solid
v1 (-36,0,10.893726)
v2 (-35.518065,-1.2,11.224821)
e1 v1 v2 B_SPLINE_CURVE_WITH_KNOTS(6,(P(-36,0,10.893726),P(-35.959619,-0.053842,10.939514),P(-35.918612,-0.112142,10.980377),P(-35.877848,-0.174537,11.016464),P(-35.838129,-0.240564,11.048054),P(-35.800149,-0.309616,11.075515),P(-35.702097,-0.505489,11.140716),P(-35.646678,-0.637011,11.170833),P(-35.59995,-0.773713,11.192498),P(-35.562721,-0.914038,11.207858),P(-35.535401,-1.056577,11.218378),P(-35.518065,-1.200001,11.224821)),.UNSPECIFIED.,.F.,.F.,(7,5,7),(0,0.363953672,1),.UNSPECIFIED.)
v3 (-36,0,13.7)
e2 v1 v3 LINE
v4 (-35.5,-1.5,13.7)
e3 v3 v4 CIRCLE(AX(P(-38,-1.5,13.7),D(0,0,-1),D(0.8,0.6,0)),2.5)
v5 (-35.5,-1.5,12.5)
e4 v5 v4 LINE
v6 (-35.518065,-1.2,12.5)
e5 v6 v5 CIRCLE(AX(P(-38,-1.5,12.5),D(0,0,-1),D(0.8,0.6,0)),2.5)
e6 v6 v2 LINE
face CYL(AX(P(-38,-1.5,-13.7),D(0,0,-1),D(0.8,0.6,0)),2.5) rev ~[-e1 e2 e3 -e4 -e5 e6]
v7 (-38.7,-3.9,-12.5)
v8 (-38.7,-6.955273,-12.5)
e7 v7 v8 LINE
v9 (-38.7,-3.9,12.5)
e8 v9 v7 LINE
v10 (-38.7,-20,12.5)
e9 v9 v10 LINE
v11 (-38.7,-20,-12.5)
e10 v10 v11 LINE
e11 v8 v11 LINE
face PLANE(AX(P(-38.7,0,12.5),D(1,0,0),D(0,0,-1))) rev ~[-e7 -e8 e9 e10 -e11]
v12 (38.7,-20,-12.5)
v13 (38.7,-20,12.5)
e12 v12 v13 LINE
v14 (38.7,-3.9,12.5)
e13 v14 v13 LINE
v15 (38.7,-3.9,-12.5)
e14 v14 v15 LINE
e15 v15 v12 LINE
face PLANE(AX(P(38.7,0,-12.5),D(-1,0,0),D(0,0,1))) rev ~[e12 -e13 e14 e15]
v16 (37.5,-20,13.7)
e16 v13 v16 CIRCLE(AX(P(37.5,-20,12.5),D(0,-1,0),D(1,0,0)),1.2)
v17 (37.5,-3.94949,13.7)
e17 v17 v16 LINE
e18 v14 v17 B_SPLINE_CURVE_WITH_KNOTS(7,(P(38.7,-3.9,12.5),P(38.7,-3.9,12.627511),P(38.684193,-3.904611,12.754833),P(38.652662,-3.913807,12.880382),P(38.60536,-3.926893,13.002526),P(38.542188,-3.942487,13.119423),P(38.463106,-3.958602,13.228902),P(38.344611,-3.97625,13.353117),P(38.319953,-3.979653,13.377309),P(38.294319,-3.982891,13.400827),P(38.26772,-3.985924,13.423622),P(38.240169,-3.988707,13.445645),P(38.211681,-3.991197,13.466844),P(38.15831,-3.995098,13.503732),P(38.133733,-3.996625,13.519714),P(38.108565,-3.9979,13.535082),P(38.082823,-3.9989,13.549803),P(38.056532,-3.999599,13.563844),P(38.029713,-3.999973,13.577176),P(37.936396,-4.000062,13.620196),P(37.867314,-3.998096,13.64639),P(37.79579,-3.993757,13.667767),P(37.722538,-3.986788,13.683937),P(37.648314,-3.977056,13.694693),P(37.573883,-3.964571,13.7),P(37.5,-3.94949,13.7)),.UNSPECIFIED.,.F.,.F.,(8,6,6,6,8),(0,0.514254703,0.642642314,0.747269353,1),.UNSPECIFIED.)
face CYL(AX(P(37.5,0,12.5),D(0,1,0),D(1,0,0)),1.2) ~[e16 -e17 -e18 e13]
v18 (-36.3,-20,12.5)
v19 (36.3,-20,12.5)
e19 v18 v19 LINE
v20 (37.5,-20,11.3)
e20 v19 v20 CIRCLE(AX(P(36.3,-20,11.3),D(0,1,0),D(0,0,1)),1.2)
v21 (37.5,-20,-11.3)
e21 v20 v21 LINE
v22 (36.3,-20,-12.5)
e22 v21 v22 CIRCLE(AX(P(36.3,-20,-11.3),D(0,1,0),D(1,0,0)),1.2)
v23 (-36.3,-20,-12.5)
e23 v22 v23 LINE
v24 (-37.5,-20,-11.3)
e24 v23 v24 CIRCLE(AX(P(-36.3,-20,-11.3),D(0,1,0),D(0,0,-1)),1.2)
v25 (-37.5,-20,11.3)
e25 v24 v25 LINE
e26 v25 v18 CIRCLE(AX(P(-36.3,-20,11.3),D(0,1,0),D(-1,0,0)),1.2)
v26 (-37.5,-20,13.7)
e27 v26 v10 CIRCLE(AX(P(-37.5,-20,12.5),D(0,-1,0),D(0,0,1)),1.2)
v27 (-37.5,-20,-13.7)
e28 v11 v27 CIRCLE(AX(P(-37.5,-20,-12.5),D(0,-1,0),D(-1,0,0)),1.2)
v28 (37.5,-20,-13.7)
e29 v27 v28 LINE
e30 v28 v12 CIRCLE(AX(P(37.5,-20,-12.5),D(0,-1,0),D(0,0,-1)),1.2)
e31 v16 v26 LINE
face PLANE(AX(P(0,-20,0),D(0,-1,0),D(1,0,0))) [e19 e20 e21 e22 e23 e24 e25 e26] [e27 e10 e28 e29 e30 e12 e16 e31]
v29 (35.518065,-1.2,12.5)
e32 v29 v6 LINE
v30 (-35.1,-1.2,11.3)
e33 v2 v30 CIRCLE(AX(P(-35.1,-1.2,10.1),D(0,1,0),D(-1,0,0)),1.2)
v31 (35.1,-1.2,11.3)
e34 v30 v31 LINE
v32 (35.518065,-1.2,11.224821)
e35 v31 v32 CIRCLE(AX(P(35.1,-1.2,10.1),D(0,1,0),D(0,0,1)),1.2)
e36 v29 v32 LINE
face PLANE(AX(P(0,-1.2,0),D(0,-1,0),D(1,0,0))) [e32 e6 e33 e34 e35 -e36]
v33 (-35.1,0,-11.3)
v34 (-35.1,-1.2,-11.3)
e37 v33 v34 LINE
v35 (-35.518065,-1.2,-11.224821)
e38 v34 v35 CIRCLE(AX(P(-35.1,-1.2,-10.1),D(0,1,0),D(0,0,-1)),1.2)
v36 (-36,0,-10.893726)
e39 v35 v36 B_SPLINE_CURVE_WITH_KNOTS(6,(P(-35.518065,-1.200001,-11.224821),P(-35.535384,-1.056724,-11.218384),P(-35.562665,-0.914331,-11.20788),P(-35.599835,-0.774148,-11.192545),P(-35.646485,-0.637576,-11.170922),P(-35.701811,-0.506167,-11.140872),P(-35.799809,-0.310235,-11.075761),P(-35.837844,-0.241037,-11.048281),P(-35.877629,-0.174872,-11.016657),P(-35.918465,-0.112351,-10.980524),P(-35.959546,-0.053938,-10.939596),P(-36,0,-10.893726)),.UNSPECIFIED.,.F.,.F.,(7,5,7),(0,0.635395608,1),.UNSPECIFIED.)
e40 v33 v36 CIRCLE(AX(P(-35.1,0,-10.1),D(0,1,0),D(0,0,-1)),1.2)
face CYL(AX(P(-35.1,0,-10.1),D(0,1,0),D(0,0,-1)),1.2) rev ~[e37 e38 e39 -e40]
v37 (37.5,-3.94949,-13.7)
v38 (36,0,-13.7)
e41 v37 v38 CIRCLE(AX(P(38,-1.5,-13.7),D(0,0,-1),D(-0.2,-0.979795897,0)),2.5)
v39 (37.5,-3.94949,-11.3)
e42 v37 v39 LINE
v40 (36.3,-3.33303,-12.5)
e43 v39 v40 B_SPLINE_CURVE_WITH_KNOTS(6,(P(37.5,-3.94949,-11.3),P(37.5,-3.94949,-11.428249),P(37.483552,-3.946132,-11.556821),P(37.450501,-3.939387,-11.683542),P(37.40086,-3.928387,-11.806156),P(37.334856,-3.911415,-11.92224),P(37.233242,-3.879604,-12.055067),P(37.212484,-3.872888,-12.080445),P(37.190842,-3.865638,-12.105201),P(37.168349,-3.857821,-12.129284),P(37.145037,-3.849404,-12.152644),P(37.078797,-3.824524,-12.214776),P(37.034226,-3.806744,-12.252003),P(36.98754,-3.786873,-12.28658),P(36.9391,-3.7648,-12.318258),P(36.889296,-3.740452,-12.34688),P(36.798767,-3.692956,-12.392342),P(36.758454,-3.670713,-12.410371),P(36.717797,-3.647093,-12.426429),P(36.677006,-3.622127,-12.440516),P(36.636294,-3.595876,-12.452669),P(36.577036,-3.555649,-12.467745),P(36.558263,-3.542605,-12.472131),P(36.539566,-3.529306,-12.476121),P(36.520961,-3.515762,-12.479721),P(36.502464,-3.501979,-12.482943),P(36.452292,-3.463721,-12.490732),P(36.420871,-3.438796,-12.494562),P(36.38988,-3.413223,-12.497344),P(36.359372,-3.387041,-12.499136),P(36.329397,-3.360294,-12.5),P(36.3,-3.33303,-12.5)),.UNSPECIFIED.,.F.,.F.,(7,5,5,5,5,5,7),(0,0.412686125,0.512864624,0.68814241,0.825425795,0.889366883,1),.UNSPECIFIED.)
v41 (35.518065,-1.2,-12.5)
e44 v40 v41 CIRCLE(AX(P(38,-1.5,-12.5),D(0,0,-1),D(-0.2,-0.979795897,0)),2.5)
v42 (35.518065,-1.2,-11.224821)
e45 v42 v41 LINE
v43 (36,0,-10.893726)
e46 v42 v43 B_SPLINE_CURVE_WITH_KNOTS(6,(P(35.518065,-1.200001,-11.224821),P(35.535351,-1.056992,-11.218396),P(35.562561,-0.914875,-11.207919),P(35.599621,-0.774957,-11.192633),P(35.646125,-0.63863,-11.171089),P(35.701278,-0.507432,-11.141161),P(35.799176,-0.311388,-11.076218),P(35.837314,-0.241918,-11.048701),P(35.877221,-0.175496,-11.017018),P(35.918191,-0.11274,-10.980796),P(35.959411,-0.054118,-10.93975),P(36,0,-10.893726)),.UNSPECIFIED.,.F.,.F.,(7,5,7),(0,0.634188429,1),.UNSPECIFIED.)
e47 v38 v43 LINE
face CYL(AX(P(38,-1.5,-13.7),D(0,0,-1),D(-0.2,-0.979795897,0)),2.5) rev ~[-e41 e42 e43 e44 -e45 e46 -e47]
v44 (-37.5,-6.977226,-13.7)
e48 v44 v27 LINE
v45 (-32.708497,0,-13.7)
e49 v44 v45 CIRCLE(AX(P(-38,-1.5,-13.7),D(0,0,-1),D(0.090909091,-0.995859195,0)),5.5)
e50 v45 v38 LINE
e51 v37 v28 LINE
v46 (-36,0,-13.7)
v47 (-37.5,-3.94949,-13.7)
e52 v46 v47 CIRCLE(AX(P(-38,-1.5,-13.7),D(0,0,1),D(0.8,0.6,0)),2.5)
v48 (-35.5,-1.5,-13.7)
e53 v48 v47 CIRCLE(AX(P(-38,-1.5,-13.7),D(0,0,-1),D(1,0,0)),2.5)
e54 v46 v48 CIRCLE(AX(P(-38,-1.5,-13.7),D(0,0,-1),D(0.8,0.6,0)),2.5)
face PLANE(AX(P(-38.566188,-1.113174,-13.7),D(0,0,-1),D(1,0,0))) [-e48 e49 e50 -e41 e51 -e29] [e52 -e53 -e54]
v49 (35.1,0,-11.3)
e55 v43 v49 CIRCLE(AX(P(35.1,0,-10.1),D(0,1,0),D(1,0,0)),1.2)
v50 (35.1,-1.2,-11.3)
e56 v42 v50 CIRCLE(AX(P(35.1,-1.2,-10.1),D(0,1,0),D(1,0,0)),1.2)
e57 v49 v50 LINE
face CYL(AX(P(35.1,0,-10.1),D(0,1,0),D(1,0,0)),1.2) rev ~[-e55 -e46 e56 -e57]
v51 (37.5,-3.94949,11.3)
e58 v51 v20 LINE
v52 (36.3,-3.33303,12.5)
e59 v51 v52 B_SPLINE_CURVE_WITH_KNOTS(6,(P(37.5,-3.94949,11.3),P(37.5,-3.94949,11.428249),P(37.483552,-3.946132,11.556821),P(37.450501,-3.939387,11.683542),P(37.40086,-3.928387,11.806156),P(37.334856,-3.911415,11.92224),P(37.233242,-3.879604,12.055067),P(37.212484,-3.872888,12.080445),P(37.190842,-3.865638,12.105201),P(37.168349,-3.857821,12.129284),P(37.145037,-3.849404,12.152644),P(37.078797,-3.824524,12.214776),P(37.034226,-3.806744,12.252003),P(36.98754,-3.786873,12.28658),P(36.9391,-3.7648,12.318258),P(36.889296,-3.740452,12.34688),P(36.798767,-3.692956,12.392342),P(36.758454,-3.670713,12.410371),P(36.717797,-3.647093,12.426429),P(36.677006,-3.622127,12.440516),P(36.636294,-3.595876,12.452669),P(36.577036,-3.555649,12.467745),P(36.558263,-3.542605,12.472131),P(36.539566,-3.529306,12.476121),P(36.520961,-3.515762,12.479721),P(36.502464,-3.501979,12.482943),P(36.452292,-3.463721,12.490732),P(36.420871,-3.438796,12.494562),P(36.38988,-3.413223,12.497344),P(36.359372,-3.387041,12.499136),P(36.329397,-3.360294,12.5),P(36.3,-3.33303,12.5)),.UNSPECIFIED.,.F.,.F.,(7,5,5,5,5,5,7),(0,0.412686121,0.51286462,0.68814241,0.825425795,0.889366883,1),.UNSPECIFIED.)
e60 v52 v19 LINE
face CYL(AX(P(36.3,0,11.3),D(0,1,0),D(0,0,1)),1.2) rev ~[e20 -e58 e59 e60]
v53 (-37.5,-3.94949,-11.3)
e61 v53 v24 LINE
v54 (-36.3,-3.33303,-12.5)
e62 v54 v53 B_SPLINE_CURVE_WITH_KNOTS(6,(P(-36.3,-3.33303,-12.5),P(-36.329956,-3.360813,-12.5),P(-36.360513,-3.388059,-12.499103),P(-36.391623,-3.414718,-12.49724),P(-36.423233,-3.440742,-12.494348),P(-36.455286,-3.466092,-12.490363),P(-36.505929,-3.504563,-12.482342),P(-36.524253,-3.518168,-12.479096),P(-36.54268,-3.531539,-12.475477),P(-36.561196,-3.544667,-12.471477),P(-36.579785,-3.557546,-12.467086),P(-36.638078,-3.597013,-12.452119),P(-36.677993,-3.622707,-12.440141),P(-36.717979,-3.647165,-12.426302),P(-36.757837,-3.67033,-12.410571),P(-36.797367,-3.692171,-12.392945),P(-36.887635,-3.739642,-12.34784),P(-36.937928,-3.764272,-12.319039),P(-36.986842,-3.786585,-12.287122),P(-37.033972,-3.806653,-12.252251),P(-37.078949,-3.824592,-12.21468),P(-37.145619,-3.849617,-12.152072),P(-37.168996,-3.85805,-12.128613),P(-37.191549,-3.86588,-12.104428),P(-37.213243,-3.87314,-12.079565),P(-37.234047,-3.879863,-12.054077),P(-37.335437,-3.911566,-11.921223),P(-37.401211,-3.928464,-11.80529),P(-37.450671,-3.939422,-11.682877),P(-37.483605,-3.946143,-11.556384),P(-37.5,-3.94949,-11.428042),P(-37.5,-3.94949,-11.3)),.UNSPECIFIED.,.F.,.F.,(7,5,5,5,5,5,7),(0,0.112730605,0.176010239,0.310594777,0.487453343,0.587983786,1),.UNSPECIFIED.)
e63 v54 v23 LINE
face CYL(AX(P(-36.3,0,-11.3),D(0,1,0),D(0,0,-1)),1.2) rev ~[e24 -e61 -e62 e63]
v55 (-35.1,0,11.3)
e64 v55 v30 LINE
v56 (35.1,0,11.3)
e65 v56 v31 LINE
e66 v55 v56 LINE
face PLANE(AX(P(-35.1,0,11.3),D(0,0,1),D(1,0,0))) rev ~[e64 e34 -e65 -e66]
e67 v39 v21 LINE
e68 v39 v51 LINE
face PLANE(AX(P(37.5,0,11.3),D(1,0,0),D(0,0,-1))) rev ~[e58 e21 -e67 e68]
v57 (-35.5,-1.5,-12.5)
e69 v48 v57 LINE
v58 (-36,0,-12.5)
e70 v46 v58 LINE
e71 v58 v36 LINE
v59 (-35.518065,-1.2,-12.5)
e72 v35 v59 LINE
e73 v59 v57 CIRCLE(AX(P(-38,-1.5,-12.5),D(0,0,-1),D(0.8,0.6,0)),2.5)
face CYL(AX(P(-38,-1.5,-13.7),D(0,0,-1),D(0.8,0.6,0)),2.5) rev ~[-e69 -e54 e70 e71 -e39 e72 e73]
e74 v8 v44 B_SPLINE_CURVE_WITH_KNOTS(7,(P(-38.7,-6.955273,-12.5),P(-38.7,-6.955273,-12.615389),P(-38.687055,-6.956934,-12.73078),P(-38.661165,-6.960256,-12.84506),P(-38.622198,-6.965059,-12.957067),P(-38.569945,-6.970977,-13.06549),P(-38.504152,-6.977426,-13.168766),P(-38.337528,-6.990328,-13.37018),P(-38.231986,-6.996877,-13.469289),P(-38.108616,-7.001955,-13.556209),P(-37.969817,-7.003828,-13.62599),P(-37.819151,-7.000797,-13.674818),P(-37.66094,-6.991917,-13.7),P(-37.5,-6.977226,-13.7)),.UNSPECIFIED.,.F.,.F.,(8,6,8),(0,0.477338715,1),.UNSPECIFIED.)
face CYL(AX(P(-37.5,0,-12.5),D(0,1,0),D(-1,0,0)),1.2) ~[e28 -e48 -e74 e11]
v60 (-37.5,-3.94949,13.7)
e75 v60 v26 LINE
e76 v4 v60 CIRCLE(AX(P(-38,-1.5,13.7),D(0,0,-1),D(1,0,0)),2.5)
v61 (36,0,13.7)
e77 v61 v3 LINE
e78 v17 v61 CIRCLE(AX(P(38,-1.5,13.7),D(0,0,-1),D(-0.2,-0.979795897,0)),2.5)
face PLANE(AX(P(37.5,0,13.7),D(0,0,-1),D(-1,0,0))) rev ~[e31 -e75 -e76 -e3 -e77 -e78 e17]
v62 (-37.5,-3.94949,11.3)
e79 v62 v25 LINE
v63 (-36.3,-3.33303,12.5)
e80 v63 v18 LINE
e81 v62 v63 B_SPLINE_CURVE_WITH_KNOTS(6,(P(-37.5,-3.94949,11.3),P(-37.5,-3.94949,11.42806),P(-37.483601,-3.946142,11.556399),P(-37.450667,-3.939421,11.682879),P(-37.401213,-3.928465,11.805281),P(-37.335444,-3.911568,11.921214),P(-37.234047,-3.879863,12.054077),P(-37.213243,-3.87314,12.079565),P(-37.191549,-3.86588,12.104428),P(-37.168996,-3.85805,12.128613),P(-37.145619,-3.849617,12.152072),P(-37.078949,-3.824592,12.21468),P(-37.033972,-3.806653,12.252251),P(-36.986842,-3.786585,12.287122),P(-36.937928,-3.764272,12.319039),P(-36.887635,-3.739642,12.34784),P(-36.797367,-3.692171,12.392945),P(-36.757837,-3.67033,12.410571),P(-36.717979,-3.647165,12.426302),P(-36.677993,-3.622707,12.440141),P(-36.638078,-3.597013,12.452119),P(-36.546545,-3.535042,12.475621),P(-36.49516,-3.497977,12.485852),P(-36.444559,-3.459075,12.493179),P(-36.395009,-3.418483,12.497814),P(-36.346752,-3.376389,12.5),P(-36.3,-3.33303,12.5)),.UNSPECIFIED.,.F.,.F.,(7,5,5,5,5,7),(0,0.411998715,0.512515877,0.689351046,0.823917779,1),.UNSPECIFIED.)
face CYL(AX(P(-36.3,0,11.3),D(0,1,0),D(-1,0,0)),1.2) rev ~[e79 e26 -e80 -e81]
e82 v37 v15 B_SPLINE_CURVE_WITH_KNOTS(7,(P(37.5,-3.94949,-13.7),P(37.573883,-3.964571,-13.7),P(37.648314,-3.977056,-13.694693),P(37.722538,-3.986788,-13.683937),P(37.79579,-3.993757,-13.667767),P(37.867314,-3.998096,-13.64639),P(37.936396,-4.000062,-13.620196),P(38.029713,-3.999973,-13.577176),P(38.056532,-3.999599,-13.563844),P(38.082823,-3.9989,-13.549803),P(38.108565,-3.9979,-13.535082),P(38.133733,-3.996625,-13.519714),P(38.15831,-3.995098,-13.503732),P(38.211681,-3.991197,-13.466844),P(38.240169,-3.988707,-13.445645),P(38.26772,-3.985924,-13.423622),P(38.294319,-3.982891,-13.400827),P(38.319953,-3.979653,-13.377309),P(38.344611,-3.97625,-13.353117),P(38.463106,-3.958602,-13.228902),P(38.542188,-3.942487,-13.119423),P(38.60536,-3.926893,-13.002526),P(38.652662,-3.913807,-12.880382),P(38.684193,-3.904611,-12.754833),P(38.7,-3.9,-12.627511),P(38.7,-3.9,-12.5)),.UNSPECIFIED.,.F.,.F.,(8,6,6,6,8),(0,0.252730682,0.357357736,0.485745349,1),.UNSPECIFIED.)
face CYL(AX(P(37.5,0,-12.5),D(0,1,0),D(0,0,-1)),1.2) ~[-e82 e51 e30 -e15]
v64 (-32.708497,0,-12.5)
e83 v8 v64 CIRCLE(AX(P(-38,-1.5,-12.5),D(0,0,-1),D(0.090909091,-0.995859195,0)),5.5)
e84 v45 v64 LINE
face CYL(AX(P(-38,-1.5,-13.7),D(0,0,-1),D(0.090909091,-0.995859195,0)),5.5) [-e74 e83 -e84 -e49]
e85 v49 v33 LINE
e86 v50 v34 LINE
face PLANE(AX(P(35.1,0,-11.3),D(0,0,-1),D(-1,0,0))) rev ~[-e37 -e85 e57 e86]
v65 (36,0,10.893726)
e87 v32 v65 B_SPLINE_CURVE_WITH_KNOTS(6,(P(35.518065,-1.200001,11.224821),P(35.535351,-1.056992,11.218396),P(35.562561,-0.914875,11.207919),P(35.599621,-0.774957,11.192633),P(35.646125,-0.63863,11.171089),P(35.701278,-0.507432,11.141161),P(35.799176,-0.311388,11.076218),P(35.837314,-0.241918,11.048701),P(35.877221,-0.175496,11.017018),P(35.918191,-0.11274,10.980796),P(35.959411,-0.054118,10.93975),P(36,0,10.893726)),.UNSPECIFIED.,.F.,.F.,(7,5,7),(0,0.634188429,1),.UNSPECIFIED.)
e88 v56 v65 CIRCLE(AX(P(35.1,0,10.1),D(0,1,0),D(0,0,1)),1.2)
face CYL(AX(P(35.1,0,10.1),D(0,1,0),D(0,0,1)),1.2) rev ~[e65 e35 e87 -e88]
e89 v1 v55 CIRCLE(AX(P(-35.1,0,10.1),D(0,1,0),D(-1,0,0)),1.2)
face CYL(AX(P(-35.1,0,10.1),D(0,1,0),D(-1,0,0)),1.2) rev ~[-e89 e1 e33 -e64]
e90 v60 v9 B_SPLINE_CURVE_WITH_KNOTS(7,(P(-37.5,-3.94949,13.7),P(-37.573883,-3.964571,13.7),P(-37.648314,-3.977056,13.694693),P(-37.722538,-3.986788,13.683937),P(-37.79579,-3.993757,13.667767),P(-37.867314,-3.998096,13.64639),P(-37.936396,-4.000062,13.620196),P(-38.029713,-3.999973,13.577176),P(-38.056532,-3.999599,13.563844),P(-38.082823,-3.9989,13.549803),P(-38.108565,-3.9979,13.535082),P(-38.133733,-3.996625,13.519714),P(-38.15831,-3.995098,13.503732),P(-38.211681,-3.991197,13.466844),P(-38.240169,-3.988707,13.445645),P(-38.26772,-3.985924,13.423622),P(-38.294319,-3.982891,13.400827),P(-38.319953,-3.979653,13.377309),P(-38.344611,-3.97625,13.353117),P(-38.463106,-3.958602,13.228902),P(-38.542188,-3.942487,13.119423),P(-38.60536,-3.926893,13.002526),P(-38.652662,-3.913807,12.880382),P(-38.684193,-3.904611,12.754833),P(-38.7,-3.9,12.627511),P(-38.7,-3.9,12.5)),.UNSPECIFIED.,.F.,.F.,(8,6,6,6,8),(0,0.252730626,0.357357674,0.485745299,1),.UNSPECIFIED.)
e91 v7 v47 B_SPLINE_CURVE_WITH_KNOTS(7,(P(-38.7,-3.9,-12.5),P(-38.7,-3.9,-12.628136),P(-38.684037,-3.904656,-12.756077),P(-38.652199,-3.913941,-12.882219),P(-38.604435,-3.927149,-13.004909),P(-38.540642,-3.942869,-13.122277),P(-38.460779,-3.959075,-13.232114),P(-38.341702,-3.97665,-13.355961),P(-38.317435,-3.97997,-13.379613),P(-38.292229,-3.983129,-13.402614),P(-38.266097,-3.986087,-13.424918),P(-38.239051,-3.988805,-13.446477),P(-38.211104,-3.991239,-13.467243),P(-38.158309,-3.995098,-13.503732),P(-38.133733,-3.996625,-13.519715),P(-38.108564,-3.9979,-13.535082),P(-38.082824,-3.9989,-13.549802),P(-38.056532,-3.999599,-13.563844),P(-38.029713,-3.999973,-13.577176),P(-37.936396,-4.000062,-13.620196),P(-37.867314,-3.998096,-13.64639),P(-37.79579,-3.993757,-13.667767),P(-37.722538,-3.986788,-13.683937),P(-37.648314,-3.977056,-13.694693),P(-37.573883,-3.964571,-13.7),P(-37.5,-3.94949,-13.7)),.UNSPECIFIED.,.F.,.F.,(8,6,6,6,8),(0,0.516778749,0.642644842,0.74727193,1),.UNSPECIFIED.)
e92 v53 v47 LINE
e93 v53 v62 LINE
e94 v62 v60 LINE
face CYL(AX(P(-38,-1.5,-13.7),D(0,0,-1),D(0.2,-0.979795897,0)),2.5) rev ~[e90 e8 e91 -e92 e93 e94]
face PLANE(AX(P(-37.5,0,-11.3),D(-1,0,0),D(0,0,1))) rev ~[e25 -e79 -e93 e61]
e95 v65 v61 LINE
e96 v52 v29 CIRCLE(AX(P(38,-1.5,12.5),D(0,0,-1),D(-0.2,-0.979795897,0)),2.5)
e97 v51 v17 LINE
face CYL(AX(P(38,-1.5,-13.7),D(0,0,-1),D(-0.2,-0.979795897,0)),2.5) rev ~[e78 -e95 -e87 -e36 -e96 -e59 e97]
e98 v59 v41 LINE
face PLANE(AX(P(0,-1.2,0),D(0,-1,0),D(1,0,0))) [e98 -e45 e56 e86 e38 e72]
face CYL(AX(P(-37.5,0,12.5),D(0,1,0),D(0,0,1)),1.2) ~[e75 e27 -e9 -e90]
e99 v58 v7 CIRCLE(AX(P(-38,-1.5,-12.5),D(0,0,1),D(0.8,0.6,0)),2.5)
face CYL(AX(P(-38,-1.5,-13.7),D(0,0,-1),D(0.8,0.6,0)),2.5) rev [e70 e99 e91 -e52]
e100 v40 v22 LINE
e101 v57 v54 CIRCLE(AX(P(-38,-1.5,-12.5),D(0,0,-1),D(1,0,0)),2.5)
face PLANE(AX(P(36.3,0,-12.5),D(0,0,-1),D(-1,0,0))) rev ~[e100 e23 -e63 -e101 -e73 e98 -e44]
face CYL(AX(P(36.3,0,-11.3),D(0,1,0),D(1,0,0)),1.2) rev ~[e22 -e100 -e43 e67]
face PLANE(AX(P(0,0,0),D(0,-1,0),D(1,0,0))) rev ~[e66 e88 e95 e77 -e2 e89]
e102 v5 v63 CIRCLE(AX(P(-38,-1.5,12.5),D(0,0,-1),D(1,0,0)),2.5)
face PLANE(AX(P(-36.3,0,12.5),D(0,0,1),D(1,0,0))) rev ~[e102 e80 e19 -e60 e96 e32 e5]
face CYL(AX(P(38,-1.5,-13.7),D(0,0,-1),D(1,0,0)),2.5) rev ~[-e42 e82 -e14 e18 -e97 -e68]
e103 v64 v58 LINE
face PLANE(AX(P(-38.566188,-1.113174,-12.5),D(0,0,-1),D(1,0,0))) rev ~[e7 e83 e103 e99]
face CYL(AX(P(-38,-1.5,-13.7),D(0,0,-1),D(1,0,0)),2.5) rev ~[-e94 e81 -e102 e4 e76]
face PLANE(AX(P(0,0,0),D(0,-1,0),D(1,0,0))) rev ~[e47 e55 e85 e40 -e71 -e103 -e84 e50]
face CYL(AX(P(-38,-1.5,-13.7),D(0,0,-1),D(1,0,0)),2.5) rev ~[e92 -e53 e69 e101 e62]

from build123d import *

# Parameters (mm, degrees)
F1_DEPTH = 20
F2_DEPTH = 1.2
F4_DEPTH = 30
F5_DEPTH = 1.2


with BuildPart() as f1:
    # F0 (on Front) → F1 (new body)
    with BuildSketch(Plane.XZ):
        with BuildLine():
            ThreePointArc((38.7, 12.5), (38.3485281374, 13.3485281374), (37.5, 13.7))
            Line((37.5, 13.7), (-37.5, 13.7))
            ThreePointArc((-37.5, 13.7), (-38.3485281374, 13.3485281374), (-38.7, 12.5))
            Line((-38.7, 12.5), (-38.7, -12.5))
            ThreePointArc((-38.7, -12.5), (-38.3485281374, -13.3485281374), (-37.5, -13.7))
            Line((-37.5, -13.7), (37.5, -13.7))
            ThreePointArc((37.5, -13.7), (38.3485281374, -13.3485281374), (38.7, -12.5))
            Line((38.7, -12.5), (38.7, 12.5))
        make_face()
        with BuildLine():
            Line((-36.3, 12.5), (36.3, 12.5))
            ThreePointArc((36.3, 12.5), (37.1485281374, 12.1485281374), (37.5, 11.3))
            Line((37.5, 11.3), (37.5, -11.3))
            ThreePointArc((37.5, -11.3), (37.1485281374, -12.1485281374), (36.3, -12.5))
            Line((36.3, -12.5), (-36.3, -12.5))
            ThreePointArc((-36.3, -12.5), (-37.1485281374, -12.1485281374), (-37.5, -11.3))
            Line((-37.5, -11.3), (-37.5, 11.3))
            ThreePointArc((-37.5, 11.3), (-37.1485281374, 12.1485281374), (-36.3, 12.5))
        make_face(mode=Mode.SUBTRACT)
    extrude(amount=F1_DEPTH)

    # F0 (on Front) → F2 (join)
    with BuildSketch(Plane.XZ):
        with BuildLine():
            ThreePointArc((37.5, 11.3), (37.1485281374, 12.1485281374), (36.3, 12.5))
            Line((36.3, 12.5), (-36.3, 12.5))
            ThreePointArc((-36.3, 12.5), (-37.1485281374, 12.1485281374), (-37.5, 11.3))
            Line((-37.5, 11.3), (-37.5, -11.3))
            ThreePointArc((-37.5, -11.3), (-37.1485281374, -12.1485281374), (-36.3, -12.5))
            Line((-36.3, -12.5), (36.3, -12.5))
            ThreePointArc((36.3, -12.5), (37.1485281374, -12.1485281374), (37.5, -11.3))
            Line((37.5, -11.3), (37.5, 11.3))
        make_face()
        with BuildLine():
            Line((-35.1000003621, 11.3000003621), (35.1000003621, 11.3000003621))
            ThreePointArc((35.1000003621, 11.3000003621), (35.9485284995, 10.9485284995), (36.3000003621, 10.1000003621))
            Line((36.3000003621, 10.1000003621), (36.3000003621, -10.1000003621))
            ThreePointArc((36.3000003621, -10.1000003621), (35.9485284995, -10.9485284995), (35.1000003621, -11.3000003621))
            Line((35.1000003621, -11.3000003621), (-35.1000003621, -11.3000003621))
            ThreePointArc((-35.1000003621, -11.3000003621), (-35.9485284995, -10.9485284995), (-36.3000003621, -10.1000003621))
            Line((-36.3000003621, -10.1000003621), (-36.3000003621, 10.1000003621))
            ThreePointArc((-36.3000003621, 10.1000003621), (-35.9485284995, 10.9485284995), (-35.1000003621, 11.3000003621))
        make_face(mode=Mode.SUBTRACT)
    extrude(amount=F2_DEPTH)

    # F3 (on face) → F4 (cut)
    with BuildSketch(Plane(origin=(0, 0, -13.7), x_dir=(1, 0, 0), z_dir=(0, 0, -1))):
        with BuildLine():
            Line((-37.5, 0), (-37.5, 3.9494897428))
            ThreePointArc((-37.5, 3.9494897428), (-40.3371173071, 0.6123724357), (-36, 0))
            Line((-36, 0), (-37.5, 0))
        make_face()
        with BuildLine():
            ThreePointArc((-36, 0), (-35.6282917549, 0.709430585), (-35.5, 1.5))
            ThreePointArc((-35.5, 1.5), (-36.0635083269, 3.0811388301), (-37.5, 3.9494897428))
            Line((-37.5, 3.9494897428), (-37.5, 0))
            Line((-37.5, 0), (-36, 0))
        make_face()
        with BuildLine():
            ThreePointArc((37.5, 3.9494897428), (35.6628826929, 2.3876275643), (36, 0))
            Line((36, 0), (37.5, 0))
            Line((37.5, 0), (37.5, 3.9494897428))
        make_face()
        with BuildLine():
            Line((37.5, 0), (36, 0))
            ThreePointArc((36, 0), (38.790569415, -0.8717082451), (40.5, 1.5))
            ThreePointArc((40.5, 1.5), (39.5811388301, 3.4364916731), (37.5, 3.9494897428))
            Line((37.5, 3.9494897428), (37.5, 0))
        make_face()
    extrude(amount=-F4_DEPTH, mode=Mode.SUBTRACT)

    # F3 (on face) → F5 (join)
    with BuildSketch(Plane(origin=(0, 0, -13.7), x_dir=(1, 0, 0), z_dir=(0, 0, -1))):
        with BuildLine():
            ThreePointArc((-36, 0), (-40.3371173071, 0.6123724357), (-37.5, 3.9494897428))
            Line((-37.5, 3.9494897428), (-37.5, 6.9772255751))
            ThreePointArc((-37.5, 6.9772255751), (-42.5338498913, -1.6135518565), (-32.7084973779, 0))
            Line((-32.7084973779, 0), (-36, 0))
        make_face()
    extrude(amount=-F5_DEPTH)


solid = f1.part
